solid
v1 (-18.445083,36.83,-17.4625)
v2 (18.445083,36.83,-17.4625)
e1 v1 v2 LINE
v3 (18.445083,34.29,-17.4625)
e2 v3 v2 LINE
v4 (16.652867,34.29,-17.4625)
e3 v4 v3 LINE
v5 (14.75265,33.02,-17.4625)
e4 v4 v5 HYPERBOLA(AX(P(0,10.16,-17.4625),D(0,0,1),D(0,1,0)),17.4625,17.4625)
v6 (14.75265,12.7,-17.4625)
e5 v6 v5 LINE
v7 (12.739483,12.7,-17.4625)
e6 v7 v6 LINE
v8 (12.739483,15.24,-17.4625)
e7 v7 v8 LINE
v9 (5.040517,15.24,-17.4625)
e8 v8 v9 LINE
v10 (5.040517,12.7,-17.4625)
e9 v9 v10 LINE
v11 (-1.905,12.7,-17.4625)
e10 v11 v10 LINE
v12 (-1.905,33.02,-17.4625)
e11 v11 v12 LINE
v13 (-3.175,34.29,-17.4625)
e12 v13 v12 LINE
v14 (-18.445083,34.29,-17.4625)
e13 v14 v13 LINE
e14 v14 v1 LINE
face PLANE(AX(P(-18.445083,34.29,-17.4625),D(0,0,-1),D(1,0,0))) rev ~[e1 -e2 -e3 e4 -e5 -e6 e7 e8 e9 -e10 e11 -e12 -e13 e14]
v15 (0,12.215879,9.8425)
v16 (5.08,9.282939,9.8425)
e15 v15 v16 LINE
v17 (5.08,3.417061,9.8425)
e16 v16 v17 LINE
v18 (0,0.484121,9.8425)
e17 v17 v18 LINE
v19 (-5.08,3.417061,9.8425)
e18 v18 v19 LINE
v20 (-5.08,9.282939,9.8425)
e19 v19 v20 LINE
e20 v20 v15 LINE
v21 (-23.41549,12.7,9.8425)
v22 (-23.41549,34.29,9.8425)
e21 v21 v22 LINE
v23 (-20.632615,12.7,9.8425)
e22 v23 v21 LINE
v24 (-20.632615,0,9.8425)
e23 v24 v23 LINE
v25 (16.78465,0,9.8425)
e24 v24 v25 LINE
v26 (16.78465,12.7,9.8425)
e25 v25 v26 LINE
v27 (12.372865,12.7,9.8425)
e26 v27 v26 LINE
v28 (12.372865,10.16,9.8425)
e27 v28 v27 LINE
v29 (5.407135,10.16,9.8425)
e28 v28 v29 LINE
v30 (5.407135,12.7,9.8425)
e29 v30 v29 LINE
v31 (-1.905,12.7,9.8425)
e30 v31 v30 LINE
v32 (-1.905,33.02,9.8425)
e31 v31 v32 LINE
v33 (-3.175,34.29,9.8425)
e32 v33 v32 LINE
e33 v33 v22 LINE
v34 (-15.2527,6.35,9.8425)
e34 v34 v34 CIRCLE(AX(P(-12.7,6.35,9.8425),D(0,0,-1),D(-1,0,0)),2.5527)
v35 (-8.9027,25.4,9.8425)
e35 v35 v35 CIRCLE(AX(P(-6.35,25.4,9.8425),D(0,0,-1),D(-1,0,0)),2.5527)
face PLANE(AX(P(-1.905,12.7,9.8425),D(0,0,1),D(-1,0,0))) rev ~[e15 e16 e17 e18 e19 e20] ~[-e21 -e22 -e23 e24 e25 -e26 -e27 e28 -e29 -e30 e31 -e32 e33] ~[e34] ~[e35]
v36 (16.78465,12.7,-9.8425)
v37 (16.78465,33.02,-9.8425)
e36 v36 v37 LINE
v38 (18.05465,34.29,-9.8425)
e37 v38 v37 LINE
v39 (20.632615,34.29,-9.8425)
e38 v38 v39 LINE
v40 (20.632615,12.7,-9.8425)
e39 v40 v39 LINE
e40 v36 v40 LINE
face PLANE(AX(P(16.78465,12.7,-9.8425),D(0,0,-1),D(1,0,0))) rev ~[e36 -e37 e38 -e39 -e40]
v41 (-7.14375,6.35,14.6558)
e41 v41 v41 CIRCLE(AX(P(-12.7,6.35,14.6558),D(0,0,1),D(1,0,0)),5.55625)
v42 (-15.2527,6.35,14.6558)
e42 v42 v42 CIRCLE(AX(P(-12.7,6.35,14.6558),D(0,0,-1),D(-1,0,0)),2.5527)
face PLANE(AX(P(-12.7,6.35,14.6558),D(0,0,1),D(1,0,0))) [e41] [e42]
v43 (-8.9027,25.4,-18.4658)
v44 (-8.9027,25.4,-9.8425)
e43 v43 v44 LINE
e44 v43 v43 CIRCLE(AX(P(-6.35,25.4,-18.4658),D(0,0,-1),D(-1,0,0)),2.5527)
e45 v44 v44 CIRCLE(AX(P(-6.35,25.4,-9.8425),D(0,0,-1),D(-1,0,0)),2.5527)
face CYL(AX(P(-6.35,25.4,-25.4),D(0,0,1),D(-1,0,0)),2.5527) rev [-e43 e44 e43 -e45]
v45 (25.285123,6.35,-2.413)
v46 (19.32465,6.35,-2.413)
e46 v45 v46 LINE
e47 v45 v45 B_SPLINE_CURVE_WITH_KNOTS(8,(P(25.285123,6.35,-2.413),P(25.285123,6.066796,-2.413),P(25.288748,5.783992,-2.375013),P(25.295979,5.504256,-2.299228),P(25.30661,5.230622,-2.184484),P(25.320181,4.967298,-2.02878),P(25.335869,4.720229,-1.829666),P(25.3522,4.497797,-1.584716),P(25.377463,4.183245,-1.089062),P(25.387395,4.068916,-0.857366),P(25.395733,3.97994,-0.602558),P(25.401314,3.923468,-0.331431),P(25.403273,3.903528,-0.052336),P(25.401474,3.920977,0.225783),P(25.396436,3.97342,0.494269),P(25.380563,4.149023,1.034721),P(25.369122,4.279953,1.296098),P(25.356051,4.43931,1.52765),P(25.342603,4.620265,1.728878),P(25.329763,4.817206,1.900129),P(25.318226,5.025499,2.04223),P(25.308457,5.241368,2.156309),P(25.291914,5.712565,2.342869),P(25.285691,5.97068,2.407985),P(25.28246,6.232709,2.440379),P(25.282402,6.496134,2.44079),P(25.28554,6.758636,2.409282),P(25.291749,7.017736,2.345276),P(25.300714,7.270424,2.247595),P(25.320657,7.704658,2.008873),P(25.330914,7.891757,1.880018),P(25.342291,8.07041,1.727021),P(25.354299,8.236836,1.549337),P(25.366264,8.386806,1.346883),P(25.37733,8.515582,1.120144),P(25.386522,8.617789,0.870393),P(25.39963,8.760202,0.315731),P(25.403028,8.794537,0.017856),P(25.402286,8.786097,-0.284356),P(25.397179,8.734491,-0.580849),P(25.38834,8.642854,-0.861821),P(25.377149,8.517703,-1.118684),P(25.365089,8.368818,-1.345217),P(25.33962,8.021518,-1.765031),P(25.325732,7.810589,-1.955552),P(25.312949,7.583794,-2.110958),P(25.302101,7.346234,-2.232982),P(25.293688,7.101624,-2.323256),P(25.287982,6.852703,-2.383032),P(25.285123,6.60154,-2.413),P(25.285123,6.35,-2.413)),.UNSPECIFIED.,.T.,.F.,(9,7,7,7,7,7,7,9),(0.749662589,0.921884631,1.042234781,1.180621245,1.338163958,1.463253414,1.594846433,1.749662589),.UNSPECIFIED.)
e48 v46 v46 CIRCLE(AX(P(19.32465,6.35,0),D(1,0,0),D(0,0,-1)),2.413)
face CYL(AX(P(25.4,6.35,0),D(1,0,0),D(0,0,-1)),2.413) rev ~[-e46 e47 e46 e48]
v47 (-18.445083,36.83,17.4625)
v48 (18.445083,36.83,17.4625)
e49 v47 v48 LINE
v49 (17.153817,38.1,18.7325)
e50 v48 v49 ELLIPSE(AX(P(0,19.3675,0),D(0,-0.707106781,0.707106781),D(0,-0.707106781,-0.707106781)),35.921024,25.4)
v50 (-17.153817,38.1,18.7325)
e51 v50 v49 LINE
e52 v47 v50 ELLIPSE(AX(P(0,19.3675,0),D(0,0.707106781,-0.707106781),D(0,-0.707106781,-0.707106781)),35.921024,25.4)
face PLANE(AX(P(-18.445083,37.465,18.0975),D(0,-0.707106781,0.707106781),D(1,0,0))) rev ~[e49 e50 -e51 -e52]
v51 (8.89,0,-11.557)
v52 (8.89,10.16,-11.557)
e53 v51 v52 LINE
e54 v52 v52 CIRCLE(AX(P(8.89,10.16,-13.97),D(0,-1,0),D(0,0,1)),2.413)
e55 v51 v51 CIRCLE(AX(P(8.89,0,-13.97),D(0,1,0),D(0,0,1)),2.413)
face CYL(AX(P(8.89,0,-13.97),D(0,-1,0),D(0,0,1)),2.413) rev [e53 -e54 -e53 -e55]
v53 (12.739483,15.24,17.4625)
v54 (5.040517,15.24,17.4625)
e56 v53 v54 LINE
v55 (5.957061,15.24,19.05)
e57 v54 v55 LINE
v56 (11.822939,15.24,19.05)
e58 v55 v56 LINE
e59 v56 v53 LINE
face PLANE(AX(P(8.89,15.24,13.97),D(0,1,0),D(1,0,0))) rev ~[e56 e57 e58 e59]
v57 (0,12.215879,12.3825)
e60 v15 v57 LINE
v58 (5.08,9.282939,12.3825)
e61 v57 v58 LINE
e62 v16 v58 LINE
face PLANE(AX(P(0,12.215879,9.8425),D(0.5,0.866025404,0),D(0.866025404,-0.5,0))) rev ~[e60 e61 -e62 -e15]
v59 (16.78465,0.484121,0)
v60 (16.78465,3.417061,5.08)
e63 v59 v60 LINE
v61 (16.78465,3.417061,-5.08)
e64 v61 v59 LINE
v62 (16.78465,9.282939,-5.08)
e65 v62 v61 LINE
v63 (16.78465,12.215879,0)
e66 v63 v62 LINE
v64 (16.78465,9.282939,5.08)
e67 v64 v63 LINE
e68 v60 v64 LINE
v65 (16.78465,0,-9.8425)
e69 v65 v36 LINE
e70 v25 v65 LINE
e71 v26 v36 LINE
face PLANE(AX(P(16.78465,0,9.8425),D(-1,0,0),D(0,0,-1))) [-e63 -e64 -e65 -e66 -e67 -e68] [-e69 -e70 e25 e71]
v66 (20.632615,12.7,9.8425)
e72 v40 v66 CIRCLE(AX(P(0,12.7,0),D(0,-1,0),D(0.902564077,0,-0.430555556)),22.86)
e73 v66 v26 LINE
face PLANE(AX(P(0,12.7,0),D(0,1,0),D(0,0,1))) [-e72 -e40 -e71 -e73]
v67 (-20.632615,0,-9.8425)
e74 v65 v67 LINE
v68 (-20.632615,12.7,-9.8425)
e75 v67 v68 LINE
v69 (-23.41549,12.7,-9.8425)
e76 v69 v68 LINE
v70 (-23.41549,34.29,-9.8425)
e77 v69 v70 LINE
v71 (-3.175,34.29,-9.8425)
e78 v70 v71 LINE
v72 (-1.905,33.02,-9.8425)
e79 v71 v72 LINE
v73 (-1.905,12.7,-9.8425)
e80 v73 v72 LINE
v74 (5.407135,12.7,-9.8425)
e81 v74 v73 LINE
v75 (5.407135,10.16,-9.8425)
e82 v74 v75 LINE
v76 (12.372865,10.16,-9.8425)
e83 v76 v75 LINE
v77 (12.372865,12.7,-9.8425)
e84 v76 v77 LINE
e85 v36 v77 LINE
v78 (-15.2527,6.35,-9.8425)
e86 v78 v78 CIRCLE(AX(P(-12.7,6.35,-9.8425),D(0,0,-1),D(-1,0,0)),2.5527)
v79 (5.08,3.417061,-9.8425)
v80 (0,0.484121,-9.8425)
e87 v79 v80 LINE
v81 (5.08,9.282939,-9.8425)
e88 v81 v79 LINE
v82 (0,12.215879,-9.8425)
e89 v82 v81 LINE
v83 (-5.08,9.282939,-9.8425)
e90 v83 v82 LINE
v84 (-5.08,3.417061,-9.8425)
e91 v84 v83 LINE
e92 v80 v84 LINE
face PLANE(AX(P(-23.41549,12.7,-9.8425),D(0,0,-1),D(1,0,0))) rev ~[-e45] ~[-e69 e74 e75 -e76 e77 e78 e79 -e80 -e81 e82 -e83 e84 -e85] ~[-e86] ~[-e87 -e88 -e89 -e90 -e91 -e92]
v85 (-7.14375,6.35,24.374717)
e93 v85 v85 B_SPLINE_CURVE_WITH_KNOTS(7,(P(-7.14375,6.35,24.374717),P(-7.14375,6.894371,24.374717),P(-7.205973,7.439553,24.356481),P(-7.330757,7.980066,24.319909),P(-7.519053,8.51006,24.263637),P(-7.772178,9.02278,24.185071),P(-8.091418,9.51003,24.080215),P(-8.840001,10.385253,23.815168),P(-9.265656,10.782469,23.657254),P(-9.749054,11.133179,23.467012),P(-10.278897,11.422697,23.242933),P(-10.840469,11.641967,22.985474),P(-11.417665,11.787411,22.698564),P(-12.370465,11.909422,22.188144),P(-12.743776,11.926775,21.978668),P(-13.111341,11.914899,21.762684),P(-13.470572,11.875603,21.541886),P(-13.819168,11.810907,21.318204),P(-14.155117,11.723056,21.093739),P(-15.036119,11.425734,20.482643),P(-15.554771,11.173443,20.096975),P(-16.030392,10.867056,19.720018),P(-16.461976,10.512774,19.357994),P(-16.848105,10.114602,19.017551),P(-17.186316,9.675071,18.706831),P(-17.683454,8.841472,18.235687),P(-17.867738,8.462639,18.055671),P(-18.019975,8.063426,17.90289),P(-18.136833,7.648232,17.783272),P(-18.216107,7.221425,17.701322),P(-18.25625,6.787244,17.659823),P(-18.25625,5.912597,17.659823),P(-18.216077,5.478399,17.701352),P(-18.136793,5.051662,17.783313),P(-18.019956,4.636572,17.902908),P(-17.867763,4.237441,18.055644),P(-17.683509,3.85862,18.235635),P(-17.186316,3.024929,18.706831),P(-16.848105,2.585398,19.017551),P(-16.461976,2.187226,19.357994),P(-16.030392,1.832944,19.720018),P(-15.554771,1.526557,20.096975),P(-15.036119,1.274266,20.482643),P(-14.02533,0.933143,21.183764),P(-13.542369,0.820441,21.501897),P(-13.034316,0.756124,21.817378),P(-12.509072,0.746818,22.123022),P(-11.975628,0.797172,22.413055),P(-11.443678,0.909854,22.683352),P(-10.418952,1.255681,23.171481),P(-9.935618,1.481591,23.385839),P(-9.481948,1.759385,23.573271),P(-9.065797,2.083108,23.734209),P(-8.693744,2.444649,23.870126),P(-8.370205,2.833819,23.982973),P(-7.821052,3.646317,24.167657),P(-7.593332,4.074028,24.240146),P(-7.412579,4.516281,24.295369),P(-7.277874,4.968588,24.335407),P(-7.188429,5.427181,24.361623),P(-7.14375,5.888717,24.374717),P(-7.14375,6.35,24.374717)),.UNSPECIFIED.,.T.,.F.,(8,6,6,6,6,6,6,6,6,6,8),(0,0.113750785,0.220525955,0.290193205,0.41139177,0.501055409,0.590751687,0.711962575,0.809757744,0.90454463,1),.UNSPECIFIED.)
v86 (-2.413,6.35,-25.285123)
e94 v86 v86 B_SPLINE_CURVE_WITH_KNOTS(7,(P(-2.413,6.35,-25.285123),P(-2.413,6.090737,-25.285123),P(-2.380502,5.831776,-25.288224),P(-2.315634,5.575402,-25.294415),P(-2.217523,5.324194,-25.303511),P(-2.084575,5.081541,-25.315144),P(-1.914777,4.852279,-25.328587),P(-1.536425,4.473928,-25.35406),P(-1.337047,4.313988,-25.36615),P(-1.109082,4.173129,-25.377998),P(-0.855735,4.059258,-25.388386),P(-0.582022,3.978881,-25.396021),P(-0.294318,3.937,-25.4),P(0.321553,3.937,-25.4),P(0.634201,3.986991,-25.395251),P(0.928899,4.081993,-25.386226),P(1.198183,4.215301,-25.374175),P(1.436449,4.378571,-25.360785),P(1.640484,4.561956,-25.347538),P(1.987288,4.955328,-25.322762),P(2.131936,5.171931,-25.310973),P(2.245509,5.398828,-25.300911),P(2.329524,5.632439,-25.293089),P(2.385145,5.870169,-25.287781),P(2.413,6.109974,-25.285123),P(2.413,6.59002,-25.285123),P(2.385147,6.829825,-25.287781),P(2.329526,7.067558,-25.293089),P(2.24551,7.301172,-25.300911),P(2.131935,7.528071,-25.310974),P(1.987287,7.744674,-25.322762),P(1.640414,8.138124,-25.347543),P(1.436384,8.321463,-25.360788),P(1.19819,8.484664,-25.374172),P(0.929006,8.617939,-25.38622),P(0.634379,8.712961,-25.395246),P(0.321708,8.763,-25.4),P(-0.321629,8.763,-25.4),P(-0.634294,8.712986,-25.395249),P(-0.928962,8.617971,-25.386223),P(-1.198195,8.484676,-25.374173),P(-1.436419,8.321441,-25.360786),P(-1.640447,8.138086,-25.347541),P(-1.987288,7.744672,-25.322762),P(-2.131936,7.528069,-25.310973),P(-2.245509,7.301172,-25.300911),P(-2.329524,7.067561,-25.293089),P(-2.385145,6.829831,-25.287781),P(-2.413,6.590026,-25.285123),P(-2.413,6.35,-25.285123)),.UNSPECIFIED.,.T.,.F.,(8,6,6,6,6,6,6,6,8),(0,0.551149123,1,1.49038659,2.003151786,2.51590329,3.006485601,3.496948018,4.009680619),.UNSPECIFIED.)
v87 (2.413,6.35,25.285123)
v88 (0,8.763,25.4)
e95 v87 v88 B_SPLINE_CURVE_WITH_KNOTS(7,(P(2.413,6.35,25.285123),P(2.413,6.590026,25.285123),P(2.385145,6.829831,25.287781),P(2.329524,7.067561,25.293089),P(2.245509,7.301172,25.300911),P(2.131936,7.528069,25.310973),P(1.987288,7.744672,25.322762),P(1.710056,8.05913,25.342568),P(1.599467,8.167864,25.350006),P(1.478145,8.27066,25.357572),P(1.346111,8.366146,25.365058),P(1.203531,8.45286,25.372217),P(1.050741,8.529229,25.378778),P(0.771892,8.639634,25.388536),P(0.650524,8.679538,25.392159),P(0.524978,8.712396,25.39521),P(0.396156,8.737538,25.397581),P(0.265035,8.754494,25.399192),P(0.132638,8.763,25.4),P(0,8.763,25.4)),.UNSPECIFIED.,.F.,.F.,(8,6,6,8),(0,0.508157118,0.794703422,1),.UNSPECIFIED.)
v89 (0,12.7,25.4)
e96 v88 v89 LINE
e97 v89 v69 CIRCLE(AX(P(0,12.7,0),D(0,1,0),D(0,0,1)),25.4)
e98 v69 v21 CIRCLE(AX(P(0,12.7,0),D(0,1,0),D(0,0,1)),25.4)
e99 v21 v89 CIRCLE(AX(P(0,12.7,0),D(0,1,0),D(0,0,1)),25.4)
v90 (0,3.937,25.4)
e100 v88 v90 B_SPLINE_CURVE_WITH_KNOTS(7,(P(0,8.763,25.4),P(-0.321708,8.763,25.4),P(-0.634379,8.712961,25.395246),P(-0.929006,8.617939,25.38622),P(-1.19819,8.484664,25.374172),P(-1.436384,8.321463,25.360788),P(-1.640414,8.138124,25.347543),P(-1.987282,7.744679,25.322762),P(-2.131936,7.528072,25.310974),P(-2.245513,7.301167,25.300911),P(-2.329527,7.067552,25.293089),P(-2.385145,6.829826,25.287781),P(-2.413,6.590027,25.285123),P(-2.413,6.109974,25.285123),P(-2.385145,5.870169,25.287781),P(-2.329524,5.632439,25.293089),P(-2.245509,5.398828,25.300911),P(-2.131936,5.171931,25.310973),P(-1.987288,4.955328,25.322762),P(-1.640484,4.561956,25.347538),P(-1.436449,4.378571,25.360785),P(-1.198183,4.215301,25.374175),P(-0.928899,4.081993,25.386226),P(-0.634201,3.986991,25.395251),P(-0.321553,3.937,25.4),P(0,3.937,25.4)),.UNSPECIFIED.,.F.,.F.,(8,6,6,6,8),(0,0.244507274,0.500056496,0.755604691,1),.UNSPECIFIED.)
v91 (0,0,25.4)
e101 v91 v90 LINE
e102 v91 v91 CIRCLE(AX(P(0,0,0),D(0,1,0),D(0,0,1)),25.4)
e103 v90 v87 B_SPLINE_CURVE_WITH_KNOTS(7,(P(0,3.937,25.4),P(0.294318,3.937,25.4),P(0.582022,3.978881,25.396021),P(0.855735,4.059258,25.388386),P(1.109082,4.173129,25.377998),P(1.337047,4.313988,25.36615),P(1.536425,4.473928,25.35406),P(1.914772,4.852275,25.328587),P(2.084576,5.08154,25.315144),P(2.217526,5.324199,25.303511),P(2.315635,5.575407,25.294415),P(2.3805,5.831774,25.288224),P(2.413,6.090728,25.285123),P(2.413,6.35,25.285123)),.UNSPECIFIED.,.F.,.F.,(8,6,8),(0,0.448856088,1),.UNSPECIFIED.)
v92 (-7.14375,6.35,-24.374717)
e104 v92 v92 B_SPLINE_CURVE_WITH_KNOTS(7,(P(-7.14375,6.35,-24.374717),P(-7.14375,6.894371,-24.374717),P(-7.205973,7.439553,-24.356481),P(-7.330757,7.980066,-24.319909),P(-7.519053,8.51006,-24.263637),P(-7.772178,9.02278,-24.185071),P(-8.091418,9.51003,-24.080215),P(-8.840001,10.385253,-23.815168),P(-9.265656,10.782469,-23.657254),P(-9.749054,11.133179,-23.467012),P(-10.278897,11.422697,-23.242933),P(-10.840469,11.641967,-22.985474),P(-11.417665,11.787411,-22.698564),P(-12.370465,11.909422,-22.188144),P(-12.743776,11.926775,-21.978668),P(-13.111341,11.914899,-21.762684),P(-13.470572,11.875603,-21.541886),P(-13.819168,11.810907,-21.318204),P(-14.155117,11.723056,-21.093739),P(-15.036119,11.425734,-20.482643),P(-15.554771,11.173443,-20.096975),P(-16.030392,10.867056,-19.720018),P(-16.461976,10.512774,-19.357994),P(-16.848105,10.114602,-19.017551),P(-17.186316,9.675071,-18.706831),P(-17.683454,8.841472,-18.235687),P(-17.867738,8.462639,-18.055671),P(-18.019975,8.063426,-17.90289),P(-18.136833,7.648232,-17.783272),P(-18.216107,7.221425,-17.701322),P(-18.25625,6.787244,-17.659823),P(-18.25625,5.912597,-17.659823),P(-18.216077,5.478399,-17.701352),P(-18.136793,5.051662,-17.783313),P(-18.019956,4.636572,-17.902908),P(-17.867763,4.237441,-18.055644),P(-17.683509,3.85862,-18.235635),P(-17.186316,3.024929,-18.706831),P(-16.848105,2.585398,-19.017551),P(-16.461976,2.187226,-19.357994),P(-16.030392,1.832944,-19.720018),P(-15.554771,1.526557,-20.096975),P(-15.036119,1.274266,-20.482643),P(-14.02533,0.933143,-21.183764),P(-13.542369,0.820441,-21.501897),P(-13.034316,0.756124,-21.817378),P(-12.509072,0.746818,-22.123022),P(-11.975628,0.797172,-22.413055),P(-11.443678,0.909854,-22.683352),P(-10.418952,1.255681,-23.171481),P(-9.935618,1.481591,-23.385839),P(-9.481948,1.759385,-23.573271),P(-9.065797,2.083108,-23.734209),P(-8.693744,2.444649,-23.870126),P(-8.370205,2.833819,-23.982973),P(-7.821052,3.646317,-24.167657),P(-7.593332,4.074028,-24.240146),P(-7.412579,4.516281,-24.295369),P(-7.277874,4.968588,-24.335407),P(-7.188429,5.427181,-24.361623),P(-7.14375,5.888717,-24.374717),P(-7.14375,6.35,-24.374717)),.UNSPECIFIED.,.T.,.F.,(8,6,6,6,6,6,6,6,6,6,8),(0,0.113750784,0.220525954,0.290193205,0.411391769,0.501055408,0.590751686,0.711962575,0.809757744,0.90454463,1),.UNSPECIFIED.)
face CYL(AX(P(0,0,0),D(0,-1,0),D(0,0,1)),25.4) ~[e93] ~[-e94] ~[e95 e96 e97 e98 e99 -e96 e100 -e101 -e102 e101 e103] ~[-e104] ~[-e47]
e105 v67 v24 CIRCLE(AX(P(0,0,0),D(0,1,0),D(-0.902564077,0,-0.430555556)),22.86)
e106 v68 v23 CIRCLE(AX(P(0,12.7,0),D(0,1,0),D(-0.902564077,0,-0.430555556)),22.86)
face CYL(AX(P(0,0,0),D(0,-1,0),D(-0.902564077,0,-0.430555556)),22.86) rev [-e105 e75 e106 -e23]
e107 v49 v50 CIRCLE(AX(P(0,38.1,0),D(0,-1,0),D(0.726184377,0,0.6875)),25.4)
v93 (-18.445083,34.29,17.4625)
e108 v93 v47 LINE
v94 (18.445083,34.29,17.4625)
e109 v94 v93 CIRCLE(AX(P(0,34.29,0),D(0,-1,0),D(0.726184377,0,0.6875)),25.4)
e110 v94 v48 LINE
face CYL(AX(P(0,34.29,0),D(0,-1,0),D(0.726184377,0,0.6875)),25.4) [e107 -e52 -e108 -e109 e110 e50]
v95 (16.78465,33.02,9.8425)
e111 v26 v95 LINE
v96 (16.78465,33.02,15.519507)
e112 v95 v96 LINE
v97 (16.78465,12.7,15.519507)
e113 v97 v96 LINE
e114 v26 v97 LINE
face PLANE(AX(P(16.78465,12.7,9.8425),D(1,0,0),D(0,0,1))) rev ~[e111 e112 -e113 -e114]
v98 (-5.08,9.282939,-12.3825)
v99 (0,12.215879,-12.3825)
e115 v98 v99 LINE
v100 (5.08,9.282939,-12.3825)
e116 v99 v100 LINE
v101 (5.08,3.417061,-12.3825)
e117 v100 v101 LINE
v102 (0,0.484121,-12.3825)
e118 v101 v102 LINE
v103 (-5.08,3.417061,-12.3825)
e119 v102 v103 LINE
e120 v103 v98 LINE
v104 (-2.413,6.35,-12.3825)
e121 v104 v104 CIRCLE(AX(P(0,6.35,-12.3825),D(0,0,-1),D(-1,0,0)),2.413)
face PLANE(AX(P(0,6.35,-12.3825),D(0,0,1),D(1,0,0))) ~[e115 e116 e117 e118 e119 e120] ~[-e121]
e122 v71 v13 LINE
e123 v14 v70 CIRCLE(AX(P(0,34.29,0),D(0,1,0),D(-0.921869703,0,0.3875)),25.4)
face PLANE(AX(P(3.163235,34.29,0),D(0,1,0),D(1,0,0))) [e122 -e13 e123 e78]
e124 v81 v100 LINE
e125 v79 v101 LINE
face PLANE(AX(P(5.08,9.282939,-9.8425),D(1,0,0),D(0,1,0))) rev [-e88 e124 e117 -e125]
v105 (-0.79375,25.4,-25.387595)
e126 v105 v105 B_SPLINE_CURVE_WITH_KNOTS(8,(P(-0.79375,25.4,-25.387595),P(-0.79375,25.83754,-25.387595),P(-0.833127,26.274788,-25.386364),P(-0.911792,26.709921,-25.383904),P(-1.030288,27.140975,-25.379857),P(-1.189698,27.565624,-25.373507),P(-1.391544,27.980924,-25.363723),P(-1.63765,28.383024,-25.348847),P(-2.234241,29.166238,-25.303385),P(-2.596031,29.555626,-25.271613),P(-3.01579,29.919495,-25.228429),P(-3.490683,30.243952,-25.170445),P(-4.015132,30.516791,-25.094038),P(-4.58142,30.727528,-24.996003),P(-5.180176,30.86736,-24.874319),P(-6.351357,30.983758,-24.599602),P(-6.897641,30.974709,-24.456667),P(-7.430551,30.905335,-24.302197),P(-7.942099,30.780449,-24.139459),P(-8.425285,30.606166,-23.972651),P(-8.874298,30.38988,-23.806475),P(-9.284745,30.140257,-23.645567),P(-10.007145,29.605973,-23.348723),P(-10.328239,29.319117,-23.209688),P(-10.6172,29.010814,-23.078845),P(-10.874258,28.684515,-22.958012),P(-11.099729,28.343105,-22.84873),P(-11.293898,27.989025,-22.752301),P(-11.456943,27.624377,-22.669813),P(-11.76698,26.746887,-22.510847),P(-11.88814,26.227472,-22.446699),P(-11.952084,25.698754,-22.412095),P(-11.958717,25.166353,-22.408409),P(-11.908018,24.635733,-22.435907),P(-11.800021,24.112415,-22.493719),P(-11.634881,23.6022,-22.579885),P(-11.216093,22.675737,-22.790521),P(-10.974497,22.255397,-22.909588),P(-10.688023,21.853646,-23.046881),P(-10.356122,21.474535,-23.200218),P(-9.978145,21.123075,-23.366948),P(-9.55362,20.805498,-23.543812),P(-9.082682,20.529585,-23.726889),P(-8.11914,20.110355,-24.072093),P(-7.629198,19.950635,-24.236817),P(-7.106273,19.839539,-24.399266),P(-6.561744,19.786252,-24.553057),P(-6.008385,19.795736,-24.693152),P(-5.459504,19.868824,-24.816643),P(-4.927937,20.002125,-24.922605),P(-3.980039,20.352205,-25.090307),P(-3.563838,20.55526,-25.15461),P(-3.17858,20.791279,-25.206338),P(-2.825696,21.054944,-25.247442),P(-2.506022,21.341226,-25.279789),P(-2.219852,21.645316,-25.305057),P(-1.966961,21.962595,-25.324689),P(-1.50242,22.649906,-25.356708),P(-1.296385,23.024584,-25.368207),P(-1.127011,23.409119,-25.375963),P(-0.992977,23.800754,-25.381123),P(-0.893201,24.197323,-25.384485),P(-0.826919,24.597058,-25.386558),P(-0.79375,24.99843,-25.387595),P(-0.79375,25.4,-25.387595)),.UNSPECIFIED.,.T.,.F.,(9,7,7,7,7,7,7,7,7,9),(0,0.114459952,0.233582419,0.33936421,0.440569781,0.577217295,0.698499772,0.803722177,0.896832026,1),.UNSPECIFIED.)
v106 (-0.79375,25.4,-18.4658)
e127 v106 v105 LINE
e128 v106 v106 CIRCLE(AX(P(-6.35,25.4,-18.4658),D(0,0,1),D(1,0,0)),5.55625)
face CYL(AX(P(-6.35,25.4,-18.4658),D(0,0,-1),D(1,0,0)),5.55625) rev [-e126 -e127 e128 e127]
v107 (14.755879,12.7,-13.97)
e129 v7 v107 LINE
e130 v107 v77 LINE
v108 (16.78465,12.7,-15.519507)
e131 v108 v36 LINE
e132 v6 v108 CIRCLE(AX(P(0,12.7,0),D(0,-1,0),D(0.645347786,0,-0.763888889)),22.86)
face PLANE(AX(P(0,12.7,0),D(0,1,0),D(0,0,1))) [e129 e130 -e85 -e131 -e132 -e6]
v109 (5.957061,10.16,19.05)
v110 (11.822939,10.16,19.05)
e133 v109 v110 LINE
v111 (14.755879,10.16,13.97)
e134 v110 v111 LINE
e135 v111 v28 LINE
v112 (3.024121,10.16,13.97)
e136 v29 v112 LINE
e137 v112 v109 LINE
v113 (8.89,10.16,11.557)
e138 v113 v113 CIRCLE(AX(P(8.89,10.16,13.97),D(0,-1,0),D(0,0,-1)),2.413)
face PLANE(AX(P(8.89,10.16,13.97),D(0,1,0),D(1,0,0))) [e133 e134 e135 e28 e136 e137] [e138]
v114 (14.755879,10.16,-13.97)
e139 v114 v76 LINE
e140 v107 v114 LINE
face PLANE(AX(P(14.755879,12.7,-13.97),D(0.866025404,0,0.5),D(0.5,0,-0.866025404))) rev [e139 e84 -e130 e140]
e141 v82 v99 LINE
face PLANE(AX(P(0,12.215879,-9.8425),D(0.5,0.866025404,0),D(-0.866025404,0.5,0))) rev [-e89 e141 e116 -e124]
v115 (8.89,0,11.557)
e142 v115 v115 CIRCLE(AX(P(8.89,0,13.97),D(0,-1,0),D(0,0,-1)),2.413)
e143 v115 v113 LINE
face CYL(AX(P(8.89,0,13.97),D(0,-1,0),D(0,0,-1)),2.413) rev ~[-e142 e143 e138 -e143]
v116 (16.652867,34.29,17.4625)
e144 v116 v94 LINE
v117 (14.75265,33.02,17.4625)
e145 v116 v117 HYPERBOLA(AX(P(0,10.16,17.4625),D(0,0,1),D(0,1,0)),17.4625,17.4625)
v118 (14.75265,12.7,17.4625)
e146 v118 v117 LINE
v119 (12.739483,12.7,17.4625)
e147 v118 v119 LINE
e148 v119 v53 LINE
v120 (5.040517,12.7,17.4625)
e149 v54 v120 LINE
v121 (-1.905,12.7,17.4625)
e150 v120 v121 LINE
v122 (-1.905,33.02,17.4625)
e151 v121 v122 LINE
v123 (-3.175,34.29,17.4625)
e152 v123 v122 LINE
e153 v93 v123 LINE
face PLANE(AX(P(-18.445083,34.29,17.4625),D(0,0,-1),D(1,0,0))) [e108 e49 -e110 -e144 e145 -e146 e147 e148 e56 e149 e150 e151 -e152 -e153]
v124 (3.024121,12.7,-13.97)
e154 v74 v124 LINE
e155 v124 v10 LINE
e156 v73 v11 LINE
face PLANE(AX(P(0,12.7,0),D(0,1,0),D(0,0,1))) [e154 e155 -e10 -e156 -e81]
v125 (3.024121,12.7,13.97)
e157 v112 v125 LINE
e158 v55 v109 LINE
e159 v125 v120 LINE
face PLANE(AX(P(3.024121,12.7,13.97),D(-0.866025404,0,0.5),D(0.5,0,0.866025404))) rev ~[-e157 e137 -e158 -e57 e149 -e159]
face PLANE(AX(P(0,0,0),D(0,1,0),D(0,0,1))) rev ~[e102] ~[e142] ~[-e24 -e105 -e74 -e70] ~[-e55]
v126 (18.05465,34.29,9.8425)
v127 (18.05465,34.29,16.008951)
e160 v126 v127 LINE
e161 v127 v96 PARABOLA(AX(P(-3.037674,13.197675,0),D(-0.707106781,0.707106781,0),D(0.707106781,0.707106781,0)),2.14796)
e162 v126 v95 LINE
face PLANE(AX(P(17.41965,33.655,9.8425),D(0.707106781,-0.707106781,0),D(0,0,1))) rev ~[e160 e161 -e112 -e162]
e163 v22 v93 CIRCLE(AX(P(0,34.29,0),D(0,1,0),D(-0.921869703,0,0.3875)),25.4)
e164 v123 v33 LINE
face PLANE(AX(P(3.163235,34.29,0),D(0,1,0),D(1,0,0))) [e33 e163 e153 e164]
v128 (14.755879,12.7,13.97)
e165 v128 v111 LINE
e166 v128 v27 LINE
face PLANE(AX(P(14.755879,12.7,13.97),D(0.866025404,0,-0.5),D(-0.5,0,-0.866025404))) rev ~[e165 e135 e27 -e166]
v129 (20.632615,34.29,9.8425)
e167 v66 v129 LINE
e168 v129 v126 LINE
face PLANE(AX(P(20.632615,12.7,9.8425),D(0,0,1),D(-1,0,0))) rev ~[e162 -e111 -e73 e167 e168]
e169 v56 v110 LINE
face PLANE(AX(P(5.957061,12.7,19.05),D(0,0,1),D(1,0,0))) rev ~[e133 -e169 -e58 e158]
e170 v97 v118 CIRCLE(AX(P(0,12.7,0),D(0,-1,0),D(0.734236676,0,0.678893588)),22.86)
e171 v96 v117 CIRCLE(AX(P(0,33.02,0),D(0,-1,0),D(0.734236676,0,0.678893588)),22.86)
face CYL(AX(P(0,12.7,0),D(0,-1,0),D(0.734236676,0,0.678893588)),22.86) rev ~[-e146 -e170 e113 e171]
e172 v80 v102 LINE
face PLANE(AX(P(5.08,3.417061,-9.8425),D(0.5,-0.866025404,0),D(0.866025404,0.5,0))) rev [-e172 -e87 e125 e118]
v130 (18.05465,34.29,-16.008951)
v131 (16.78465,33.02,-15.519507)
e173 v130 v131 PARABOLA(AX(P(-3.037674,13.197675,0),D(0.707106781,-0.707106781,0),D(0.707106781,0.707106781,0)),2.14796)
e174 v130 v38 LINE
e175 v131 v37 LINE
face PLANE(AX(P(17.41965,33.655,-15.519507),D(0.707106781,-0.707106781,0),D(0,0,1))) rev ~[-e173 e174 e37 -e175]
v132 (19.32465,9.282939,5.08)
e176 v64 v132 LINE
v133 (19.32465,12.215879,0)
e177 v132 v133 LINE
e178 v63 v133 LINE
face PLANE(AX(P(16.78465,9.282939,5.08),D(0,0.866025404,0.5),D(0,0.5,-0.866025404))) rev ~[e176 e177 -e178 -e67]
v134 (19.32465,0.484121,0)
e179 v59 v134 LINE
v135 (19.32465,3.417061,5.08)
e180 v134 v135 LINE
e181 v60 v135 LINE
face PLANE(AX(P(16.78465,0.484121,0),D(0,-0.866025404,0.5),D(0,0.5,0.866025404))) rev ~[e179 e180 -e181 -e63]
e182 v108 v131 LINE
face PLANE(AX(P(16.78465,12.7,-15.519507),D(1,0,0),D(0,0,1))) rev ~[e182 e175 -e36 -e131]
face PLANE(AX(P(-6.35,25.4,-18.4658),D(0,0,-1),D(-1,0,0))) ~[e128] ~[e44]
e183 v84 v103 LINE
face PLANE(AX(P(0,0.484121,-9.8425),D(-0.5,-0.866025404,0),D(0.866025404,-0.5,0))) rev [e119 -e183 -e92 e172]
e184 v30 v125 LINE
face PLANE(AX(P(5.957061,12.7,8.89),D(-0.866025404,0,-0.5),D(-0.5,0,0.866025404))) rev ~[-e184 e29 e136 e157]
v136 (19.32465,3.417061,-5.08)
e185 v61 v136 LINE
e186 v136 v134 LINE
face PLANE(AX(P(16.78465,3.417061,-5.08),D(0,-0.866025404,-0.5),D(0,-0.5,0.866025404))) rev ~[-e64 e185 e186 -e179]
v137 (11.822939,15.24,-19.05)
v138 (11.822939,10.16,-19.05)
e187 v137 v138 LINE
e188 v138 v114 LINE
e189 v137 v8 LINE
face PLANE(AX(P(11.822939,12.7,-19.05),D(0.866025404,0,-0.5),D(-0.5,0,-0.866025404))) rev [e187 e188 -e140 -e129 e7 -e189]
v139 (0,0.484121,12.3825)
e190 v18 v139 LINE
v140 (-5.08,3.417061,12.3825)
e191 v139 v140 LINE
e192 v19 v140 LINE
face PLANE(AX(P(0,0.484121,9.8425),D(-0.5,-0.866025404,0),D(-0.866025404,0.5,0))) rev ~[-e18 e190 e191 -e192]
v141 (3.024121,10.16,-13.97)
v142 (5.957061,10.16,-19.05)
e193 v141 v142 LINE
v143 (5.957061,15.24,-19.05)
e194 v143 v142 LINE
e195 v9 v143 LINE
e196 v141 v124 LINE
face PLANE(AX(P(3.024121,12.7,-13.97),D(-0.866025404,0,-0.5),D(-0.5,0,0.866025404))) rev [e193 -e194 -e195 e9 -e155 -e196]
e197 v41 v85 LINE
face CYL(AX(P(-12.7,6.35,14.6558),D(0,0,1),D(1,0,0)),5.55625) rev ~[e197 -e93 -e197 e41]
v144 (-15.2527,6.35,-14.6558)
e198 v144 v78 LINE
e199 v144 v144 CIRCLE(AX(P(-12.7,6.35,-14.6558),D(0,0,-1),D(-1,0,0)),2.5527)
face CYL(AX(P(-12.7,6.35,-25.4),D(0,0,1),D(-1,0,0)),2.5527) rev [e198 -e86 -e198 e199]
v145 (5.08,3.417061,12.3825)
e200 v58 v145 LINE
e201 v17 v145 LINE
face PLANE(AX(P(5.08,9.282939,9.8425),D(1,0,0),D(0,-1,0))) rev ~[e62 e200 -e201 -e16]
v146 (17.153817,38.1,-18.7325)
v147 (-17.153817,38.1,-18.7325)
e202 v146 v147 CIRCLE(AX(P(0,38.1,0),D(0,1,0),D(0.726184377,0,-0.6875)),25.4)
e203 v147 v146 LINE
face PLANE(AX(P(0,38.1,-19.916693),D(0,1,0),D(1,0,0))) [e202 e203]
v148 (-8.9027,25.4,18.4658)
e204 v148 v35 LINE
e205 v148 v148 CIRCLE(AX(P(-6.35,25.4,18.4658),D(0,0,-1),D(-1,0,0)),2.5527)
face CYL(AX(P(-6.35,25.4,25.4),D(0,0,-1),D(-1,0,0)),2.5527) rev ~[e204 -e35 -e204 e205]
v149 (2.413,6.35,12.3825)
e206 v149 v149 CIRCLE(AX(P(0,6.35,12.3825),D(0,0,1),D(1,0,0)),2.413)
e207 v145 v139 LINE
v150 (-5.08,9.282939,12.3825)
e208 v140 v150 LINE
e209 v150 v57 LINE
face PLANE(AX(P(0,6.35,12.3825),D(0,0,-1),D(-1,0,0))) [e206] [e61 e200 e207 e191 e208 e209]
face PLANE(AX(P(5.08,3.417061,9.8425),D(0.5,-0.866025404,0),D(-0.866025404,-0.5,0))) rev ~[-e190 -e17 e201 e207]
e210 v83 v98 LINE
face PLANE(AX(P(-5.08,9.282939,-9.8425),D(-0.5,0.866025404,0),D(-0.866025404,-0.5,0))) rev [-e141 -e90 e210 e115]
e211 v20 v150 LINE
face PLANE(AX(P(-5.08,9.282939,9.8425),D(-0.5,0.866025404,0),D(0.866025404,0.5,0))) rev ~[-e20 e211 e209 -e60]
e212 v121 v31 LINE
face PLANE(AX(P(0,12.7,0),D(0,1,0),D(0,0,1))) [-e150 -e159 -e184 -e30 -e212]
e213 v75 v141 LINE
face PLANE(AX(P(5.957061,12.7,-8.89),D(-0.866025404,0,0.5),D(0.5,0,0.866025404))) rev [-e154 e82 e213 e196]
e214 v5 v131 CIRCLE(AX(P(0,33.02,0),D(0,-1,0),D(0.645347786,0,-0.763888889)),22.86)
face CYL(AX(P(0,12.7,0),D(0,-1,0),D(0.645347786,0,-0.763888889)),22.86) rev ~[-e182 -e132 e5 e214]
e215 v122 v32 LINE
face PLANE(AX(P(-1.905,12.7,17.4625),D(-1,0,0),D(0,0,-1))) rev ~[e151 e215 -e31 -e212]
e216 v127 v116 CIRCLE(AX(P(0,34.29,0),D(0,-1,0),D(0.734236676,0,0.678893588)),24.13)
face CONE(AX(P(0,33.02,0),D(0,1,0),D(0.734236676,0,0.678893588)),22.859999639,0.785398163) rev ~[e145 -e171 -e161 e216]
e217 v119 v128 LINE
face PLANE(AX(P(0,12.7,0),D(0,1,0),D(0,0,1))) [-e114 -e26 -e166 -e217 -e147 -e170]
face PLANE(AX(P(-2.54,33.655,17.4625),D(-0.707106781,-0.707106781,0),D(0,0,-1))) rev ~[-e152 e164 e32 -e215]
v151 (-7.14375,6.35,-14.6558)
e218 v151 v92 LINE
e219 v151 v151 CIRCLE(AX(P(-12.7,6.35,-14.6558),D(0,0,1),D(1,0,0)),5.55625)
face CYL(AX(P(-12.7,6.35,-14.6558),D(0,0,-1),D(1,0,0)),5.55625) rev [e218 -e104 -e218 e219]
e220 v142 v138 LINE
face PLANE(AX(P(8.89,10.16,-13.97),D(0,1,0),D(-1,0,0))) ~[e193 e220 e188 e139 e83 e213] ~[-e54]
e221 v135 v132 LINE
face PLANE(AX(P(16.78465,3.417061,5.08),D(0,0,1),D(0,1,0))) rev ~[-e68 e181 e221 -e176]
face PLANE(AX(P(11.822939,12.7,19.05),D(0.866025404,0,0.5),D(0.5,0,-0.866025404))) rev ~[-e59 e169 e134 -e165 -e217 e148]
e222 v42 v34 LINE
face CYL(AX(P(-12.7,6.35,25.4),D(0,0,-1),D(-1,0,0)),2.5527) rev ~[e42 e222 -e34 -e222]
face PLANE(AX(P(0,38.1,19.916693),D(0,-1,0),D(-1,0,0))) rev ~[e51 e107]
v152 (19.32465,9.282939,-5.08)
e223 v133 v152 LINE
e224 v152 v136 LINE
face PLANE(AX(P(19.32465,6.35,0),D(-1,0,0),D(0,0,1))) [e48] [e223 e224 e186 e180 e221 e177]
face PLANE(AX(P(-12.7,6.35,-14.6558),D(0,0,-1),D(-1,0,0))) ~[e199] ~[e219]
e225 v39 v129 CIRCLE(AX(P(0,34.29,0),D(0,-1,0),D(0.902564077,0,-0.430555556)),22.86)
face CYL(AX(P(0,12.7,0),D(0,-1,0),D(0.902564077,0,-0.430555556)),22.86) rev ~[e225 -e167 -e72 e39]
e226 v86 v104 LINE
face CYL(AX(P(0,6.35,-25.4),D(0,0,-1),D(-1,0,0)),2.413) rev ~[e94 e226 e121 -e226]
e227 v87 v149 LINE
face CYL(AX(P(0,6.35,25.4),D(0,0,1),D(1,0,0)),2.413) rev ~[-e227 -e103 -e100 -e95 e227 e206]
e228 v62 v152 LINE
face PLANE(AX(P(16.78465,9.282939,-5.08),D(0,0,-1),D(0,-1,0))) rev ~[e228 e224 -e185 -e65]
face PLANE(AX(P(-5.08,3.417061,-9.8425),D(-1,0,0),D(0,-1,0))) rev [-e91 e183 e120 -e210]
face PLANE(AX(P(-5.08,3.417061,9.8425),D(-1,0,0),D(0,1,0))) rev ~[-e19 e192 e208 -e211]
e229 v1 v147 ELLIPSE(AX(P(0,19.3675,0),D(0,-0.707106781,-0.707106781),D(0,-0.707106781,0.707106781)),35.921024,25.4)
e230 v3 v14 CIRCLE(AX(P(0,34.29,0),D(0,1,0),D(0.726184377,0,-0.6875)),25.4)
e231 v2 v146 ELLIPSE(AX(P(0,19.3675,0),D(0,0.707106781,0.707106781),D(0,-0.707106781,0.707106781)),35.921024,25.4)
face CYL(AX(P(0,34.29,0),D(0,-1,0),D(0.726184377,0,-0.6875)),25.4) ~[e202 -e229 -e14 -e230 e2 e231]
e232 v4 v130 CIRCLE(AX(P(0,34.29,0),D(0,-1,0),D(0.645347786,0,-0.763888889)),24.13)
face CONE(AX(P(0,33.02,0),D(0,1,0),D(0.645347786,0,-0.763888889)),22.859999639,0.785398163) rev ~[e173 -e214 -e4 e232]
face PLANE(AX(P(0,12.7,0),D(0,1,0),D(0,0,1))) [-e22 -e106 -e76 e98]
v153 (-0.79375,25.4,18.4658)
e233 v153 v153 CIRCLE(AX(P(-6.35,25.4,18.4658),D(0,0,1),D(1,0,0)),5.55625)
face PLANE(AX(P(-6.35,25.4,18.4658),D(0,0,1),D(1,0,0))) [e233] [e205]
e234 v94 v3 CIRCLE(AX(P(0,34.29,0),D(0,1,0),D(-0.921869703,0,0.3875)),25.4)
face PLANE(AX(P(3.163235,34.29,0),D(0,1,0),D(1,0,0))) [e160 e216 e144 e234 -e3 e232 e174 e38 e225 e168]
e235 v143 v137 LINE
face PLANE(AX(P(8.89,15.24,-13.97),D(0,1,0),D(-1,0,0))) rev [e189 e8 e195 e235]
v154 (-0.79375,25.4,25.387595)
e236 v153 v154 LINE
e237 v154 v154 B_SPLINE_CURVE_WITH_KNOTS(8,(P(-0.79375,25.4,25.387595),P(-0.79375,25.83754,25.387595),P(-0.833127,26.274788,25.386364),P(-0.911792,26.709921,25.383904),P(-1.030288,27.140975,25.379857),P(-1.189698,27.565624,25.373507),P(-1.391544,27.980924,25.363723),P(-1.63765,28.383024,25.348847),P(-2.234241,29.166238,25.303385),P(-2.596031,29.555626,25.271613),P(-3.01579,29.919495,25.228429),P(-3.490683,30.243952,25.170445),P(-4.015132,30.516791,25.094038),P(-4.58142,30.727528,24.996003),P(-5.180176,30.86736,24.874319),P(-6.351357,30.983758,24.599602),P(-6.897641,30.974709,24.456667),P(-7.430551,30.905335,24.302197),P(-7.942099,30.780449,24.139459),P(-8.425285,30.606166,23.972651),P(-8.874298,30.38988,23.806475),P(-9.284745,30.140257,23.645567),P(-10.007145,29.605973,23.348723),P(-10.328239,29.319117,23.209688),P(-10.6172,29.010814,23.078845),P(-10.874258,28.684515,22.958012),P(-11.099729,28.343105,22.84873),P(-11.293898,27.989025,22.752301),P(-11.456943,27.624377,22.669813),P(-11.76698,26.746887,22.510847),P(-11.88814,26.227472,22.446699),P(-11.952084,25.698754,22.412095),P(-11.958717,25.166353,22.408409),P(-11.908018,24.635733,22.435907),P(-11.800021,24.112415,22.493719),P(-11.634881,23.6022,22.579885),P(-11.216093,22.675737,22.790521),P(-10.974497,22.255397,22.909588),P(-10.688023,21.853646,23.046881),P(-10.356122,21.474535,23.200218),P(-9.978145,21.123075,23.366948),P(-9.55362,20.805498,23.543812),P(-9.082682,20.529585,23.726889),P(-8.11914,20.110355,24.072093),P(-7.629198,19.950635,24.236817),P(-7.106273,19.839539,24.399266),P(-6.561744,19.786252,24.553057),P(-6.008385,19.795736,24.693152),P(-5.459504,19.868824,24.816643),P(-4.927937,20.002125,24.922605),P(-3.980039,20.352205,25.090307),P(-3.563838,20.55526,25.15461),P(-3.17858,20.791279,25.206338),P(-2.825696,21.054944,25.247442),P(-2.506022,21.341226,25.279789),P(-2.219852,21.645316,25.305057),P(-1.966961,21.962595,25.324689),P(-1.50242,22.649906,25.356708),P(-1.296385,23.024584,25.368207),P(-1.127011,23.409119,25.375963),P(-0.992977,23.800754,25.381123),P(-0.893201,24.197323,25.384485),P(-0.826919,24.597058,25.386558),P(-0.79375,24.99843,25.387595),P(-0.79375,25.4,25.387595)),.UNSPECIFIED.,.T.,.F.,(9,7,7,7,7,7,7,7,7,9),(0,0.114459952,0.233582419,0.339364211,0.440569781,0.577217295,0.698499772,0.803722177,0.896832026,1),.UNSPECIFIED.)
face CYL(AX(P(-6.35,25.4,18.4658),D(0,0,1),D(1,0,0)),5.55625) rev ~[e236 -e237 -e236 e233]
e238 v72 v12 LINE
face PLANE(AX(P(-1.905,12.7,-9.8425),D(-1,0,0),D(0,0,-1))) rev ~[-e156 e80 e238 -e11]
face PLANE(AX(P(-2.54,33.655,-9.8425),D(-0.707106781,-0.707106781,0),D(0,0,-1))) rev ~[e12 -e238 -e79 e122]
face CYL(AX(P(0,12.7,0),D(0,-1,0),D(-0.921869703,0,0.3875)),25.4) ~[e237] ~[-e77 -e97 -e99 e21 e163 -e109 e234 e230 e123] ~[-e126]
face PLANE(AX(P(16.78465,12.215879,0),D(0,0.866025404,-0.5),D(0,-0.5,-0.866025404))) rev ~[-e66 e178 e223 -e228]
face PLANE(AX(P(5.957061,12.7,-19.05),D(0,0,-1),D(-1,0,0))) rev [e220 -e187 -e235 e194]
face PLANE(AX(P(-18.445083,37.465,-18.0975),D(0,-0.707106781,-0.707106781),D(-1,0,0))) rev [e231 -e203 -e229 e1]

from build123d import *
from build123d.topology import SkipClean

# Parameters (mm, degrees)
SKETCH1_R               = 25.4
BASE_RING_DEPTH         = 12.7
SET_SCREW_R             = 2.413
SET_SCREW_HOLE_DEPTH    = 19.05
SET_SCREW_PATTERN_COUNT = 3
SET_SCREW_PATTERN_ANGLE = 180
UPPER_SECTION_DEPTH     = 21.59
LOWER_AXLE_D            = 5.1054
LOWER_AXLE_DEPTH        = 15.5575
LOWER_AXLE_CBORE_D      = 11.1125
LOWER_AXLE_CBORE_DEPTH  = 10.7442
UPPER_AXLE_D            = 5.1054
UPPER_AXLE_DEPTH        = 15.5575
UPPER_AXLE_CBORE_D      = 11.1125
UPPER_AXLE_CBORE_DEPTH  = 6.9342
SERVO_PLATE_SCREW_REACH = 51.66
SKETCH10_R              = 2.413
NUT_HOLE_DEPTH          = 2.54
LOWER_NUT_HOLE_DEPTH    = 2.54
FRONT_NUT_HOLE_DEPTH    = 2.54
FLUSH_PLATE_DEPTH       = 3.81
LEAD_IN_CHAMFER_SIZE    = 1.27


with BuildPart() as part:
    # Sketch1 → base_ring (new body)
    with BuildSketch(Plane(origin=(0, 0, 0), x_dir=(1, 0, 0), z_dir=(0, 1, 0))):
        with Locations(Location((0, 0, 0), (0, 0, 270))):
            Circle(SKETCH1_R)
        with BuildLine():
            Line((-1.905, 9.8425), (-20.632614806, 9.8425))
            ThreePointArc((-20.632614806, 9.8425), (-22.86, 0), (-20.632614806, -9.8425))
            Line((-20.632614806, -9.8425), (-1.905, -9.8425))
            Line((-1.905, -9.8425), (16.784650397, -9.8425))
            Line((16.784650397, -9.8425), (16.784650397, 9.8425))
            Line((16.784650397, 9.8425), (-1.905, 9.8425))
        make_face(mode=Mode.SUBTRACT)
    extrude(amount=BASE_RING_DEPTH)

    # set_screw → set_screw_hole (cut)
    with BuildSketch(Plane.XY.offset(25.4)):
        with Locations((0, 6.35)):
            Circle(SET_SCREW_R)
    set_screw_hole = extrude(amount=-SET_SCREW_HOLE_DEPTH, mode=Mode.SUBTRACT)

    # set_screw_pattern: set_screw_hole ×3 about axis
    set_screw_pattern_axis = Axis((0, 12.7, 0), (0, 1, 0))
    for i in range(1, SET_SCREW_PATTERN_COUNT):
        add(set_screw_hole.rotate(set_screw_pattern_axis, i * SET_SCREW_PATTERN_ANGLE / (SET_SCREW_PATTERN_COUNT - 1)), mode=Mode.SUBTRACT)

    # Sketch6 → upper_section (add)
    with BuildSketch(Plane(origin=(0, 12.7, 0), x_dir=(1, 0, 0), z_dir=(0, 1, 0))):
        with BuildLine():
            Line((-23.415490466, 9.8425), (-1.905, 9.8425))
            Line((-1.905, 9.8425), (-1.905, 17.4625))
            Line((-1.905, 17.4625), (14.752650397, 17.4625))
            ThreePointArc((14.752650397, 17.4625), (15.79854868, 16.522271624), (16.784650397, 15.519507435))
            Line((16.784650397, 15.519507435), (16.784650397, 9.8425))
            Line((16.784650397, 9.8425), (20.632614806, 9.8425))
            ThreePointArc((20.632614806, 9.8425), (22.86, 0), (20.632614806, -9.8425))
            Line((20.632614806, -9.8425), (16.784650397, -9.8425))
            Line((16.784650397, -9.8425), (16.784650397, -15.519507435))
            ThreePointArc((16.784650397, -15.519507435), (15.79854868, -16.522271624), (14.752650397, -17.4625))
            Line((14.752650397, -17.4625), (-1.905, -17.4625))
            Line((-1.905, -17.4625), (-1.905, -9.8425))
            Line((-1.905, -9.8425), (-23.415490466, -9.8425))
            ThreePointArc((-23.415490466, -9.8425), (25.4, 0), (-23.415490466, 9.8425))
        make_face()
    extrude(amount=UPPER_SECTION_DEPTH)

    # lower_axle
    with Locations(Plane.XY.offset(25.4)):
        with Locations((-12.7, 6.35)):
            lower_axle = CounterBoreHole(LOWER_AXLE_D / 2, LOWER_AXLE_CBORE_D / 2, LOWER_AXLE_CBORE_DEPTH, depth=LOWER_AXLE_DEPTH)

    # upper_axle
    with Locations(Plane.XY.offset(25.4)):
        with Locations((-6.35, 25.4)):
            upper_axle = CounterBoreHole(UPPER_AXLE_D / 2, UPPER_AXLE_CBORE_D / 2, UPPER_AXLE_CBORE_DEPTH, depth=UPPER_AXLE_DEPTH)

    # Sketch10 → servo_plate_screw (cut, up to next)
    with BuildSketch(Plane.XZ, mode=Mode.PRIVATE) as servo_plate_screw_sk1:
        with Locations(Location((8.89, 13.97, 0), (0, 0, 270))):
            Circle(SKETCH10_R)
    servo_plate_screw_tool1 = extrude(servo_plate_screw_sk1.sketch, amount=-SERVO_PLATE_SCREW_REACH, mode=Mode.PRIVATE) & part.part
    servo_plate_screw = servo_plate_screw_tool1.solids().sort_by_distance((8.89, 0, 13.97))[0]
    add(servo_plate_screw, mode=Mode.SUBTRACT)

    # Sketch11 → nut_hole (cut, symmetric)
    with BuildSketch(Plane(origin=(0, 12.7, 0), x_dir=(1, 0, 0), z_dir=(0, 1, 0))):
        Polygon((14.755878735, -13.97), (11.822939367, -8.89), (5.957060633, -8.89), (3.024121265, -13.97), (5.957060633, -19.05), (11.822939367, -19.05), align=None)
    nut_hole = extrude(amount=NUT_HOLE_DEPTH, both=True, mode=Mode.SUBTRACT)

    # Sketch12 → lower_nut_hole (cut)
    with BuildSketch(Plane(origin=(0, 0, 9.8425), x_dir=(-1, 0, 0), z_dir=(0, 0, -1))):
        Polygon((5.08, 3.417060633), (5.08, 9.282939367), (0, 12.215878735), (-5.08, 9.282939367), (-5.08, 3.417060633), (0, 0.484121265), align=None)
    lower_nut_hole = extrude(amount=-LOWER_NUT_HOLE_DEPTH, mode=Mode.SUBTRACT)

    # Sketch13 → front_nut_hole (cut)
    with BuildSketch(Plane.ZY.offset(-16.784650397)):
        Polygon((0, 12.215878735), (-5.08, 9.282939367), (-5.08, 3.417060633), (0, 0.484121265), (5.08, 3.417060633), (5.08, 9.282939367), align=None)
    extrude(amount=-FRONT_NUT_HOLE_DEPTH, mode=Mode.SUBTRACT)

    # screw_mirror: lower_axle, upper_axle, servo_plate_screw, nut_hole, lower_nut_hole across plane
    add(lower_axle.mirror(Plane.XY), mode=Mode.SUBTRACT)
    add(upper_axle.mirror(Plane.XY), mode=Mode.SUBTRACT)
    add(servo_plate_screw.mirror(Plane.XY), mode=Mode.SUBTRACT)
    add(nut_hole.mirror(Plane.XY), mode=Mode.SUBTRACT)
    add(lower_nut_hole.mirror(Plane.XY), mode=Mode.SUBTRACT)

    # Sketch9 → flush_plate (add)
    with SkipClean():  # the faces are left unmerged after this step: merging them gives an invalid solid
        with BuildSketch(Plane(origin=(0, 34.29, 0), x_dir=(1, 0, 0), z_dir=(0, 1, 0))):
            with BuildLine():
                Line((-18.445083186, 17.4625), (18.445083186, 17.4625))
                ThreePointArc((18.445083186, 17.4625), (0, 25.4), (-18.445083186, 17.4625))
            make_face()
            with BuildLine():
                Line((-18.445083186, -17.4625), (18.445083186, -17.4625))
                ThreePointArc((18.445083186, -17.4625), (0, -25.4), (-18.445083186, -17.4625))
            make_face()
        extrude(amount=FLUSH_PLATE_DEPTH)

    # lead_in_chamfer
    lead_in_chamfer_edges = [part.edges().sort_by_distance(p)[0] for p in [
        (0, 38.1, -17.4625),
        (0, 38.1, 17.4625),
        (-1.905, 34.29, -13.6525),
        (15.79854868, 34.29, -16.522271624),
        (16.784650397, 34.29, -12.681003718),
        (16.784650397, 34.29, 12.681003718),
        (15.79854868, 34.29, 16.522271624),
        (-1.905, 34.29, 13.6525),
    ]]
    chamfer(lead_in_chamfer_edges, length=LEAD_IN_CHAMFER_SIZE)


solid = part.part
